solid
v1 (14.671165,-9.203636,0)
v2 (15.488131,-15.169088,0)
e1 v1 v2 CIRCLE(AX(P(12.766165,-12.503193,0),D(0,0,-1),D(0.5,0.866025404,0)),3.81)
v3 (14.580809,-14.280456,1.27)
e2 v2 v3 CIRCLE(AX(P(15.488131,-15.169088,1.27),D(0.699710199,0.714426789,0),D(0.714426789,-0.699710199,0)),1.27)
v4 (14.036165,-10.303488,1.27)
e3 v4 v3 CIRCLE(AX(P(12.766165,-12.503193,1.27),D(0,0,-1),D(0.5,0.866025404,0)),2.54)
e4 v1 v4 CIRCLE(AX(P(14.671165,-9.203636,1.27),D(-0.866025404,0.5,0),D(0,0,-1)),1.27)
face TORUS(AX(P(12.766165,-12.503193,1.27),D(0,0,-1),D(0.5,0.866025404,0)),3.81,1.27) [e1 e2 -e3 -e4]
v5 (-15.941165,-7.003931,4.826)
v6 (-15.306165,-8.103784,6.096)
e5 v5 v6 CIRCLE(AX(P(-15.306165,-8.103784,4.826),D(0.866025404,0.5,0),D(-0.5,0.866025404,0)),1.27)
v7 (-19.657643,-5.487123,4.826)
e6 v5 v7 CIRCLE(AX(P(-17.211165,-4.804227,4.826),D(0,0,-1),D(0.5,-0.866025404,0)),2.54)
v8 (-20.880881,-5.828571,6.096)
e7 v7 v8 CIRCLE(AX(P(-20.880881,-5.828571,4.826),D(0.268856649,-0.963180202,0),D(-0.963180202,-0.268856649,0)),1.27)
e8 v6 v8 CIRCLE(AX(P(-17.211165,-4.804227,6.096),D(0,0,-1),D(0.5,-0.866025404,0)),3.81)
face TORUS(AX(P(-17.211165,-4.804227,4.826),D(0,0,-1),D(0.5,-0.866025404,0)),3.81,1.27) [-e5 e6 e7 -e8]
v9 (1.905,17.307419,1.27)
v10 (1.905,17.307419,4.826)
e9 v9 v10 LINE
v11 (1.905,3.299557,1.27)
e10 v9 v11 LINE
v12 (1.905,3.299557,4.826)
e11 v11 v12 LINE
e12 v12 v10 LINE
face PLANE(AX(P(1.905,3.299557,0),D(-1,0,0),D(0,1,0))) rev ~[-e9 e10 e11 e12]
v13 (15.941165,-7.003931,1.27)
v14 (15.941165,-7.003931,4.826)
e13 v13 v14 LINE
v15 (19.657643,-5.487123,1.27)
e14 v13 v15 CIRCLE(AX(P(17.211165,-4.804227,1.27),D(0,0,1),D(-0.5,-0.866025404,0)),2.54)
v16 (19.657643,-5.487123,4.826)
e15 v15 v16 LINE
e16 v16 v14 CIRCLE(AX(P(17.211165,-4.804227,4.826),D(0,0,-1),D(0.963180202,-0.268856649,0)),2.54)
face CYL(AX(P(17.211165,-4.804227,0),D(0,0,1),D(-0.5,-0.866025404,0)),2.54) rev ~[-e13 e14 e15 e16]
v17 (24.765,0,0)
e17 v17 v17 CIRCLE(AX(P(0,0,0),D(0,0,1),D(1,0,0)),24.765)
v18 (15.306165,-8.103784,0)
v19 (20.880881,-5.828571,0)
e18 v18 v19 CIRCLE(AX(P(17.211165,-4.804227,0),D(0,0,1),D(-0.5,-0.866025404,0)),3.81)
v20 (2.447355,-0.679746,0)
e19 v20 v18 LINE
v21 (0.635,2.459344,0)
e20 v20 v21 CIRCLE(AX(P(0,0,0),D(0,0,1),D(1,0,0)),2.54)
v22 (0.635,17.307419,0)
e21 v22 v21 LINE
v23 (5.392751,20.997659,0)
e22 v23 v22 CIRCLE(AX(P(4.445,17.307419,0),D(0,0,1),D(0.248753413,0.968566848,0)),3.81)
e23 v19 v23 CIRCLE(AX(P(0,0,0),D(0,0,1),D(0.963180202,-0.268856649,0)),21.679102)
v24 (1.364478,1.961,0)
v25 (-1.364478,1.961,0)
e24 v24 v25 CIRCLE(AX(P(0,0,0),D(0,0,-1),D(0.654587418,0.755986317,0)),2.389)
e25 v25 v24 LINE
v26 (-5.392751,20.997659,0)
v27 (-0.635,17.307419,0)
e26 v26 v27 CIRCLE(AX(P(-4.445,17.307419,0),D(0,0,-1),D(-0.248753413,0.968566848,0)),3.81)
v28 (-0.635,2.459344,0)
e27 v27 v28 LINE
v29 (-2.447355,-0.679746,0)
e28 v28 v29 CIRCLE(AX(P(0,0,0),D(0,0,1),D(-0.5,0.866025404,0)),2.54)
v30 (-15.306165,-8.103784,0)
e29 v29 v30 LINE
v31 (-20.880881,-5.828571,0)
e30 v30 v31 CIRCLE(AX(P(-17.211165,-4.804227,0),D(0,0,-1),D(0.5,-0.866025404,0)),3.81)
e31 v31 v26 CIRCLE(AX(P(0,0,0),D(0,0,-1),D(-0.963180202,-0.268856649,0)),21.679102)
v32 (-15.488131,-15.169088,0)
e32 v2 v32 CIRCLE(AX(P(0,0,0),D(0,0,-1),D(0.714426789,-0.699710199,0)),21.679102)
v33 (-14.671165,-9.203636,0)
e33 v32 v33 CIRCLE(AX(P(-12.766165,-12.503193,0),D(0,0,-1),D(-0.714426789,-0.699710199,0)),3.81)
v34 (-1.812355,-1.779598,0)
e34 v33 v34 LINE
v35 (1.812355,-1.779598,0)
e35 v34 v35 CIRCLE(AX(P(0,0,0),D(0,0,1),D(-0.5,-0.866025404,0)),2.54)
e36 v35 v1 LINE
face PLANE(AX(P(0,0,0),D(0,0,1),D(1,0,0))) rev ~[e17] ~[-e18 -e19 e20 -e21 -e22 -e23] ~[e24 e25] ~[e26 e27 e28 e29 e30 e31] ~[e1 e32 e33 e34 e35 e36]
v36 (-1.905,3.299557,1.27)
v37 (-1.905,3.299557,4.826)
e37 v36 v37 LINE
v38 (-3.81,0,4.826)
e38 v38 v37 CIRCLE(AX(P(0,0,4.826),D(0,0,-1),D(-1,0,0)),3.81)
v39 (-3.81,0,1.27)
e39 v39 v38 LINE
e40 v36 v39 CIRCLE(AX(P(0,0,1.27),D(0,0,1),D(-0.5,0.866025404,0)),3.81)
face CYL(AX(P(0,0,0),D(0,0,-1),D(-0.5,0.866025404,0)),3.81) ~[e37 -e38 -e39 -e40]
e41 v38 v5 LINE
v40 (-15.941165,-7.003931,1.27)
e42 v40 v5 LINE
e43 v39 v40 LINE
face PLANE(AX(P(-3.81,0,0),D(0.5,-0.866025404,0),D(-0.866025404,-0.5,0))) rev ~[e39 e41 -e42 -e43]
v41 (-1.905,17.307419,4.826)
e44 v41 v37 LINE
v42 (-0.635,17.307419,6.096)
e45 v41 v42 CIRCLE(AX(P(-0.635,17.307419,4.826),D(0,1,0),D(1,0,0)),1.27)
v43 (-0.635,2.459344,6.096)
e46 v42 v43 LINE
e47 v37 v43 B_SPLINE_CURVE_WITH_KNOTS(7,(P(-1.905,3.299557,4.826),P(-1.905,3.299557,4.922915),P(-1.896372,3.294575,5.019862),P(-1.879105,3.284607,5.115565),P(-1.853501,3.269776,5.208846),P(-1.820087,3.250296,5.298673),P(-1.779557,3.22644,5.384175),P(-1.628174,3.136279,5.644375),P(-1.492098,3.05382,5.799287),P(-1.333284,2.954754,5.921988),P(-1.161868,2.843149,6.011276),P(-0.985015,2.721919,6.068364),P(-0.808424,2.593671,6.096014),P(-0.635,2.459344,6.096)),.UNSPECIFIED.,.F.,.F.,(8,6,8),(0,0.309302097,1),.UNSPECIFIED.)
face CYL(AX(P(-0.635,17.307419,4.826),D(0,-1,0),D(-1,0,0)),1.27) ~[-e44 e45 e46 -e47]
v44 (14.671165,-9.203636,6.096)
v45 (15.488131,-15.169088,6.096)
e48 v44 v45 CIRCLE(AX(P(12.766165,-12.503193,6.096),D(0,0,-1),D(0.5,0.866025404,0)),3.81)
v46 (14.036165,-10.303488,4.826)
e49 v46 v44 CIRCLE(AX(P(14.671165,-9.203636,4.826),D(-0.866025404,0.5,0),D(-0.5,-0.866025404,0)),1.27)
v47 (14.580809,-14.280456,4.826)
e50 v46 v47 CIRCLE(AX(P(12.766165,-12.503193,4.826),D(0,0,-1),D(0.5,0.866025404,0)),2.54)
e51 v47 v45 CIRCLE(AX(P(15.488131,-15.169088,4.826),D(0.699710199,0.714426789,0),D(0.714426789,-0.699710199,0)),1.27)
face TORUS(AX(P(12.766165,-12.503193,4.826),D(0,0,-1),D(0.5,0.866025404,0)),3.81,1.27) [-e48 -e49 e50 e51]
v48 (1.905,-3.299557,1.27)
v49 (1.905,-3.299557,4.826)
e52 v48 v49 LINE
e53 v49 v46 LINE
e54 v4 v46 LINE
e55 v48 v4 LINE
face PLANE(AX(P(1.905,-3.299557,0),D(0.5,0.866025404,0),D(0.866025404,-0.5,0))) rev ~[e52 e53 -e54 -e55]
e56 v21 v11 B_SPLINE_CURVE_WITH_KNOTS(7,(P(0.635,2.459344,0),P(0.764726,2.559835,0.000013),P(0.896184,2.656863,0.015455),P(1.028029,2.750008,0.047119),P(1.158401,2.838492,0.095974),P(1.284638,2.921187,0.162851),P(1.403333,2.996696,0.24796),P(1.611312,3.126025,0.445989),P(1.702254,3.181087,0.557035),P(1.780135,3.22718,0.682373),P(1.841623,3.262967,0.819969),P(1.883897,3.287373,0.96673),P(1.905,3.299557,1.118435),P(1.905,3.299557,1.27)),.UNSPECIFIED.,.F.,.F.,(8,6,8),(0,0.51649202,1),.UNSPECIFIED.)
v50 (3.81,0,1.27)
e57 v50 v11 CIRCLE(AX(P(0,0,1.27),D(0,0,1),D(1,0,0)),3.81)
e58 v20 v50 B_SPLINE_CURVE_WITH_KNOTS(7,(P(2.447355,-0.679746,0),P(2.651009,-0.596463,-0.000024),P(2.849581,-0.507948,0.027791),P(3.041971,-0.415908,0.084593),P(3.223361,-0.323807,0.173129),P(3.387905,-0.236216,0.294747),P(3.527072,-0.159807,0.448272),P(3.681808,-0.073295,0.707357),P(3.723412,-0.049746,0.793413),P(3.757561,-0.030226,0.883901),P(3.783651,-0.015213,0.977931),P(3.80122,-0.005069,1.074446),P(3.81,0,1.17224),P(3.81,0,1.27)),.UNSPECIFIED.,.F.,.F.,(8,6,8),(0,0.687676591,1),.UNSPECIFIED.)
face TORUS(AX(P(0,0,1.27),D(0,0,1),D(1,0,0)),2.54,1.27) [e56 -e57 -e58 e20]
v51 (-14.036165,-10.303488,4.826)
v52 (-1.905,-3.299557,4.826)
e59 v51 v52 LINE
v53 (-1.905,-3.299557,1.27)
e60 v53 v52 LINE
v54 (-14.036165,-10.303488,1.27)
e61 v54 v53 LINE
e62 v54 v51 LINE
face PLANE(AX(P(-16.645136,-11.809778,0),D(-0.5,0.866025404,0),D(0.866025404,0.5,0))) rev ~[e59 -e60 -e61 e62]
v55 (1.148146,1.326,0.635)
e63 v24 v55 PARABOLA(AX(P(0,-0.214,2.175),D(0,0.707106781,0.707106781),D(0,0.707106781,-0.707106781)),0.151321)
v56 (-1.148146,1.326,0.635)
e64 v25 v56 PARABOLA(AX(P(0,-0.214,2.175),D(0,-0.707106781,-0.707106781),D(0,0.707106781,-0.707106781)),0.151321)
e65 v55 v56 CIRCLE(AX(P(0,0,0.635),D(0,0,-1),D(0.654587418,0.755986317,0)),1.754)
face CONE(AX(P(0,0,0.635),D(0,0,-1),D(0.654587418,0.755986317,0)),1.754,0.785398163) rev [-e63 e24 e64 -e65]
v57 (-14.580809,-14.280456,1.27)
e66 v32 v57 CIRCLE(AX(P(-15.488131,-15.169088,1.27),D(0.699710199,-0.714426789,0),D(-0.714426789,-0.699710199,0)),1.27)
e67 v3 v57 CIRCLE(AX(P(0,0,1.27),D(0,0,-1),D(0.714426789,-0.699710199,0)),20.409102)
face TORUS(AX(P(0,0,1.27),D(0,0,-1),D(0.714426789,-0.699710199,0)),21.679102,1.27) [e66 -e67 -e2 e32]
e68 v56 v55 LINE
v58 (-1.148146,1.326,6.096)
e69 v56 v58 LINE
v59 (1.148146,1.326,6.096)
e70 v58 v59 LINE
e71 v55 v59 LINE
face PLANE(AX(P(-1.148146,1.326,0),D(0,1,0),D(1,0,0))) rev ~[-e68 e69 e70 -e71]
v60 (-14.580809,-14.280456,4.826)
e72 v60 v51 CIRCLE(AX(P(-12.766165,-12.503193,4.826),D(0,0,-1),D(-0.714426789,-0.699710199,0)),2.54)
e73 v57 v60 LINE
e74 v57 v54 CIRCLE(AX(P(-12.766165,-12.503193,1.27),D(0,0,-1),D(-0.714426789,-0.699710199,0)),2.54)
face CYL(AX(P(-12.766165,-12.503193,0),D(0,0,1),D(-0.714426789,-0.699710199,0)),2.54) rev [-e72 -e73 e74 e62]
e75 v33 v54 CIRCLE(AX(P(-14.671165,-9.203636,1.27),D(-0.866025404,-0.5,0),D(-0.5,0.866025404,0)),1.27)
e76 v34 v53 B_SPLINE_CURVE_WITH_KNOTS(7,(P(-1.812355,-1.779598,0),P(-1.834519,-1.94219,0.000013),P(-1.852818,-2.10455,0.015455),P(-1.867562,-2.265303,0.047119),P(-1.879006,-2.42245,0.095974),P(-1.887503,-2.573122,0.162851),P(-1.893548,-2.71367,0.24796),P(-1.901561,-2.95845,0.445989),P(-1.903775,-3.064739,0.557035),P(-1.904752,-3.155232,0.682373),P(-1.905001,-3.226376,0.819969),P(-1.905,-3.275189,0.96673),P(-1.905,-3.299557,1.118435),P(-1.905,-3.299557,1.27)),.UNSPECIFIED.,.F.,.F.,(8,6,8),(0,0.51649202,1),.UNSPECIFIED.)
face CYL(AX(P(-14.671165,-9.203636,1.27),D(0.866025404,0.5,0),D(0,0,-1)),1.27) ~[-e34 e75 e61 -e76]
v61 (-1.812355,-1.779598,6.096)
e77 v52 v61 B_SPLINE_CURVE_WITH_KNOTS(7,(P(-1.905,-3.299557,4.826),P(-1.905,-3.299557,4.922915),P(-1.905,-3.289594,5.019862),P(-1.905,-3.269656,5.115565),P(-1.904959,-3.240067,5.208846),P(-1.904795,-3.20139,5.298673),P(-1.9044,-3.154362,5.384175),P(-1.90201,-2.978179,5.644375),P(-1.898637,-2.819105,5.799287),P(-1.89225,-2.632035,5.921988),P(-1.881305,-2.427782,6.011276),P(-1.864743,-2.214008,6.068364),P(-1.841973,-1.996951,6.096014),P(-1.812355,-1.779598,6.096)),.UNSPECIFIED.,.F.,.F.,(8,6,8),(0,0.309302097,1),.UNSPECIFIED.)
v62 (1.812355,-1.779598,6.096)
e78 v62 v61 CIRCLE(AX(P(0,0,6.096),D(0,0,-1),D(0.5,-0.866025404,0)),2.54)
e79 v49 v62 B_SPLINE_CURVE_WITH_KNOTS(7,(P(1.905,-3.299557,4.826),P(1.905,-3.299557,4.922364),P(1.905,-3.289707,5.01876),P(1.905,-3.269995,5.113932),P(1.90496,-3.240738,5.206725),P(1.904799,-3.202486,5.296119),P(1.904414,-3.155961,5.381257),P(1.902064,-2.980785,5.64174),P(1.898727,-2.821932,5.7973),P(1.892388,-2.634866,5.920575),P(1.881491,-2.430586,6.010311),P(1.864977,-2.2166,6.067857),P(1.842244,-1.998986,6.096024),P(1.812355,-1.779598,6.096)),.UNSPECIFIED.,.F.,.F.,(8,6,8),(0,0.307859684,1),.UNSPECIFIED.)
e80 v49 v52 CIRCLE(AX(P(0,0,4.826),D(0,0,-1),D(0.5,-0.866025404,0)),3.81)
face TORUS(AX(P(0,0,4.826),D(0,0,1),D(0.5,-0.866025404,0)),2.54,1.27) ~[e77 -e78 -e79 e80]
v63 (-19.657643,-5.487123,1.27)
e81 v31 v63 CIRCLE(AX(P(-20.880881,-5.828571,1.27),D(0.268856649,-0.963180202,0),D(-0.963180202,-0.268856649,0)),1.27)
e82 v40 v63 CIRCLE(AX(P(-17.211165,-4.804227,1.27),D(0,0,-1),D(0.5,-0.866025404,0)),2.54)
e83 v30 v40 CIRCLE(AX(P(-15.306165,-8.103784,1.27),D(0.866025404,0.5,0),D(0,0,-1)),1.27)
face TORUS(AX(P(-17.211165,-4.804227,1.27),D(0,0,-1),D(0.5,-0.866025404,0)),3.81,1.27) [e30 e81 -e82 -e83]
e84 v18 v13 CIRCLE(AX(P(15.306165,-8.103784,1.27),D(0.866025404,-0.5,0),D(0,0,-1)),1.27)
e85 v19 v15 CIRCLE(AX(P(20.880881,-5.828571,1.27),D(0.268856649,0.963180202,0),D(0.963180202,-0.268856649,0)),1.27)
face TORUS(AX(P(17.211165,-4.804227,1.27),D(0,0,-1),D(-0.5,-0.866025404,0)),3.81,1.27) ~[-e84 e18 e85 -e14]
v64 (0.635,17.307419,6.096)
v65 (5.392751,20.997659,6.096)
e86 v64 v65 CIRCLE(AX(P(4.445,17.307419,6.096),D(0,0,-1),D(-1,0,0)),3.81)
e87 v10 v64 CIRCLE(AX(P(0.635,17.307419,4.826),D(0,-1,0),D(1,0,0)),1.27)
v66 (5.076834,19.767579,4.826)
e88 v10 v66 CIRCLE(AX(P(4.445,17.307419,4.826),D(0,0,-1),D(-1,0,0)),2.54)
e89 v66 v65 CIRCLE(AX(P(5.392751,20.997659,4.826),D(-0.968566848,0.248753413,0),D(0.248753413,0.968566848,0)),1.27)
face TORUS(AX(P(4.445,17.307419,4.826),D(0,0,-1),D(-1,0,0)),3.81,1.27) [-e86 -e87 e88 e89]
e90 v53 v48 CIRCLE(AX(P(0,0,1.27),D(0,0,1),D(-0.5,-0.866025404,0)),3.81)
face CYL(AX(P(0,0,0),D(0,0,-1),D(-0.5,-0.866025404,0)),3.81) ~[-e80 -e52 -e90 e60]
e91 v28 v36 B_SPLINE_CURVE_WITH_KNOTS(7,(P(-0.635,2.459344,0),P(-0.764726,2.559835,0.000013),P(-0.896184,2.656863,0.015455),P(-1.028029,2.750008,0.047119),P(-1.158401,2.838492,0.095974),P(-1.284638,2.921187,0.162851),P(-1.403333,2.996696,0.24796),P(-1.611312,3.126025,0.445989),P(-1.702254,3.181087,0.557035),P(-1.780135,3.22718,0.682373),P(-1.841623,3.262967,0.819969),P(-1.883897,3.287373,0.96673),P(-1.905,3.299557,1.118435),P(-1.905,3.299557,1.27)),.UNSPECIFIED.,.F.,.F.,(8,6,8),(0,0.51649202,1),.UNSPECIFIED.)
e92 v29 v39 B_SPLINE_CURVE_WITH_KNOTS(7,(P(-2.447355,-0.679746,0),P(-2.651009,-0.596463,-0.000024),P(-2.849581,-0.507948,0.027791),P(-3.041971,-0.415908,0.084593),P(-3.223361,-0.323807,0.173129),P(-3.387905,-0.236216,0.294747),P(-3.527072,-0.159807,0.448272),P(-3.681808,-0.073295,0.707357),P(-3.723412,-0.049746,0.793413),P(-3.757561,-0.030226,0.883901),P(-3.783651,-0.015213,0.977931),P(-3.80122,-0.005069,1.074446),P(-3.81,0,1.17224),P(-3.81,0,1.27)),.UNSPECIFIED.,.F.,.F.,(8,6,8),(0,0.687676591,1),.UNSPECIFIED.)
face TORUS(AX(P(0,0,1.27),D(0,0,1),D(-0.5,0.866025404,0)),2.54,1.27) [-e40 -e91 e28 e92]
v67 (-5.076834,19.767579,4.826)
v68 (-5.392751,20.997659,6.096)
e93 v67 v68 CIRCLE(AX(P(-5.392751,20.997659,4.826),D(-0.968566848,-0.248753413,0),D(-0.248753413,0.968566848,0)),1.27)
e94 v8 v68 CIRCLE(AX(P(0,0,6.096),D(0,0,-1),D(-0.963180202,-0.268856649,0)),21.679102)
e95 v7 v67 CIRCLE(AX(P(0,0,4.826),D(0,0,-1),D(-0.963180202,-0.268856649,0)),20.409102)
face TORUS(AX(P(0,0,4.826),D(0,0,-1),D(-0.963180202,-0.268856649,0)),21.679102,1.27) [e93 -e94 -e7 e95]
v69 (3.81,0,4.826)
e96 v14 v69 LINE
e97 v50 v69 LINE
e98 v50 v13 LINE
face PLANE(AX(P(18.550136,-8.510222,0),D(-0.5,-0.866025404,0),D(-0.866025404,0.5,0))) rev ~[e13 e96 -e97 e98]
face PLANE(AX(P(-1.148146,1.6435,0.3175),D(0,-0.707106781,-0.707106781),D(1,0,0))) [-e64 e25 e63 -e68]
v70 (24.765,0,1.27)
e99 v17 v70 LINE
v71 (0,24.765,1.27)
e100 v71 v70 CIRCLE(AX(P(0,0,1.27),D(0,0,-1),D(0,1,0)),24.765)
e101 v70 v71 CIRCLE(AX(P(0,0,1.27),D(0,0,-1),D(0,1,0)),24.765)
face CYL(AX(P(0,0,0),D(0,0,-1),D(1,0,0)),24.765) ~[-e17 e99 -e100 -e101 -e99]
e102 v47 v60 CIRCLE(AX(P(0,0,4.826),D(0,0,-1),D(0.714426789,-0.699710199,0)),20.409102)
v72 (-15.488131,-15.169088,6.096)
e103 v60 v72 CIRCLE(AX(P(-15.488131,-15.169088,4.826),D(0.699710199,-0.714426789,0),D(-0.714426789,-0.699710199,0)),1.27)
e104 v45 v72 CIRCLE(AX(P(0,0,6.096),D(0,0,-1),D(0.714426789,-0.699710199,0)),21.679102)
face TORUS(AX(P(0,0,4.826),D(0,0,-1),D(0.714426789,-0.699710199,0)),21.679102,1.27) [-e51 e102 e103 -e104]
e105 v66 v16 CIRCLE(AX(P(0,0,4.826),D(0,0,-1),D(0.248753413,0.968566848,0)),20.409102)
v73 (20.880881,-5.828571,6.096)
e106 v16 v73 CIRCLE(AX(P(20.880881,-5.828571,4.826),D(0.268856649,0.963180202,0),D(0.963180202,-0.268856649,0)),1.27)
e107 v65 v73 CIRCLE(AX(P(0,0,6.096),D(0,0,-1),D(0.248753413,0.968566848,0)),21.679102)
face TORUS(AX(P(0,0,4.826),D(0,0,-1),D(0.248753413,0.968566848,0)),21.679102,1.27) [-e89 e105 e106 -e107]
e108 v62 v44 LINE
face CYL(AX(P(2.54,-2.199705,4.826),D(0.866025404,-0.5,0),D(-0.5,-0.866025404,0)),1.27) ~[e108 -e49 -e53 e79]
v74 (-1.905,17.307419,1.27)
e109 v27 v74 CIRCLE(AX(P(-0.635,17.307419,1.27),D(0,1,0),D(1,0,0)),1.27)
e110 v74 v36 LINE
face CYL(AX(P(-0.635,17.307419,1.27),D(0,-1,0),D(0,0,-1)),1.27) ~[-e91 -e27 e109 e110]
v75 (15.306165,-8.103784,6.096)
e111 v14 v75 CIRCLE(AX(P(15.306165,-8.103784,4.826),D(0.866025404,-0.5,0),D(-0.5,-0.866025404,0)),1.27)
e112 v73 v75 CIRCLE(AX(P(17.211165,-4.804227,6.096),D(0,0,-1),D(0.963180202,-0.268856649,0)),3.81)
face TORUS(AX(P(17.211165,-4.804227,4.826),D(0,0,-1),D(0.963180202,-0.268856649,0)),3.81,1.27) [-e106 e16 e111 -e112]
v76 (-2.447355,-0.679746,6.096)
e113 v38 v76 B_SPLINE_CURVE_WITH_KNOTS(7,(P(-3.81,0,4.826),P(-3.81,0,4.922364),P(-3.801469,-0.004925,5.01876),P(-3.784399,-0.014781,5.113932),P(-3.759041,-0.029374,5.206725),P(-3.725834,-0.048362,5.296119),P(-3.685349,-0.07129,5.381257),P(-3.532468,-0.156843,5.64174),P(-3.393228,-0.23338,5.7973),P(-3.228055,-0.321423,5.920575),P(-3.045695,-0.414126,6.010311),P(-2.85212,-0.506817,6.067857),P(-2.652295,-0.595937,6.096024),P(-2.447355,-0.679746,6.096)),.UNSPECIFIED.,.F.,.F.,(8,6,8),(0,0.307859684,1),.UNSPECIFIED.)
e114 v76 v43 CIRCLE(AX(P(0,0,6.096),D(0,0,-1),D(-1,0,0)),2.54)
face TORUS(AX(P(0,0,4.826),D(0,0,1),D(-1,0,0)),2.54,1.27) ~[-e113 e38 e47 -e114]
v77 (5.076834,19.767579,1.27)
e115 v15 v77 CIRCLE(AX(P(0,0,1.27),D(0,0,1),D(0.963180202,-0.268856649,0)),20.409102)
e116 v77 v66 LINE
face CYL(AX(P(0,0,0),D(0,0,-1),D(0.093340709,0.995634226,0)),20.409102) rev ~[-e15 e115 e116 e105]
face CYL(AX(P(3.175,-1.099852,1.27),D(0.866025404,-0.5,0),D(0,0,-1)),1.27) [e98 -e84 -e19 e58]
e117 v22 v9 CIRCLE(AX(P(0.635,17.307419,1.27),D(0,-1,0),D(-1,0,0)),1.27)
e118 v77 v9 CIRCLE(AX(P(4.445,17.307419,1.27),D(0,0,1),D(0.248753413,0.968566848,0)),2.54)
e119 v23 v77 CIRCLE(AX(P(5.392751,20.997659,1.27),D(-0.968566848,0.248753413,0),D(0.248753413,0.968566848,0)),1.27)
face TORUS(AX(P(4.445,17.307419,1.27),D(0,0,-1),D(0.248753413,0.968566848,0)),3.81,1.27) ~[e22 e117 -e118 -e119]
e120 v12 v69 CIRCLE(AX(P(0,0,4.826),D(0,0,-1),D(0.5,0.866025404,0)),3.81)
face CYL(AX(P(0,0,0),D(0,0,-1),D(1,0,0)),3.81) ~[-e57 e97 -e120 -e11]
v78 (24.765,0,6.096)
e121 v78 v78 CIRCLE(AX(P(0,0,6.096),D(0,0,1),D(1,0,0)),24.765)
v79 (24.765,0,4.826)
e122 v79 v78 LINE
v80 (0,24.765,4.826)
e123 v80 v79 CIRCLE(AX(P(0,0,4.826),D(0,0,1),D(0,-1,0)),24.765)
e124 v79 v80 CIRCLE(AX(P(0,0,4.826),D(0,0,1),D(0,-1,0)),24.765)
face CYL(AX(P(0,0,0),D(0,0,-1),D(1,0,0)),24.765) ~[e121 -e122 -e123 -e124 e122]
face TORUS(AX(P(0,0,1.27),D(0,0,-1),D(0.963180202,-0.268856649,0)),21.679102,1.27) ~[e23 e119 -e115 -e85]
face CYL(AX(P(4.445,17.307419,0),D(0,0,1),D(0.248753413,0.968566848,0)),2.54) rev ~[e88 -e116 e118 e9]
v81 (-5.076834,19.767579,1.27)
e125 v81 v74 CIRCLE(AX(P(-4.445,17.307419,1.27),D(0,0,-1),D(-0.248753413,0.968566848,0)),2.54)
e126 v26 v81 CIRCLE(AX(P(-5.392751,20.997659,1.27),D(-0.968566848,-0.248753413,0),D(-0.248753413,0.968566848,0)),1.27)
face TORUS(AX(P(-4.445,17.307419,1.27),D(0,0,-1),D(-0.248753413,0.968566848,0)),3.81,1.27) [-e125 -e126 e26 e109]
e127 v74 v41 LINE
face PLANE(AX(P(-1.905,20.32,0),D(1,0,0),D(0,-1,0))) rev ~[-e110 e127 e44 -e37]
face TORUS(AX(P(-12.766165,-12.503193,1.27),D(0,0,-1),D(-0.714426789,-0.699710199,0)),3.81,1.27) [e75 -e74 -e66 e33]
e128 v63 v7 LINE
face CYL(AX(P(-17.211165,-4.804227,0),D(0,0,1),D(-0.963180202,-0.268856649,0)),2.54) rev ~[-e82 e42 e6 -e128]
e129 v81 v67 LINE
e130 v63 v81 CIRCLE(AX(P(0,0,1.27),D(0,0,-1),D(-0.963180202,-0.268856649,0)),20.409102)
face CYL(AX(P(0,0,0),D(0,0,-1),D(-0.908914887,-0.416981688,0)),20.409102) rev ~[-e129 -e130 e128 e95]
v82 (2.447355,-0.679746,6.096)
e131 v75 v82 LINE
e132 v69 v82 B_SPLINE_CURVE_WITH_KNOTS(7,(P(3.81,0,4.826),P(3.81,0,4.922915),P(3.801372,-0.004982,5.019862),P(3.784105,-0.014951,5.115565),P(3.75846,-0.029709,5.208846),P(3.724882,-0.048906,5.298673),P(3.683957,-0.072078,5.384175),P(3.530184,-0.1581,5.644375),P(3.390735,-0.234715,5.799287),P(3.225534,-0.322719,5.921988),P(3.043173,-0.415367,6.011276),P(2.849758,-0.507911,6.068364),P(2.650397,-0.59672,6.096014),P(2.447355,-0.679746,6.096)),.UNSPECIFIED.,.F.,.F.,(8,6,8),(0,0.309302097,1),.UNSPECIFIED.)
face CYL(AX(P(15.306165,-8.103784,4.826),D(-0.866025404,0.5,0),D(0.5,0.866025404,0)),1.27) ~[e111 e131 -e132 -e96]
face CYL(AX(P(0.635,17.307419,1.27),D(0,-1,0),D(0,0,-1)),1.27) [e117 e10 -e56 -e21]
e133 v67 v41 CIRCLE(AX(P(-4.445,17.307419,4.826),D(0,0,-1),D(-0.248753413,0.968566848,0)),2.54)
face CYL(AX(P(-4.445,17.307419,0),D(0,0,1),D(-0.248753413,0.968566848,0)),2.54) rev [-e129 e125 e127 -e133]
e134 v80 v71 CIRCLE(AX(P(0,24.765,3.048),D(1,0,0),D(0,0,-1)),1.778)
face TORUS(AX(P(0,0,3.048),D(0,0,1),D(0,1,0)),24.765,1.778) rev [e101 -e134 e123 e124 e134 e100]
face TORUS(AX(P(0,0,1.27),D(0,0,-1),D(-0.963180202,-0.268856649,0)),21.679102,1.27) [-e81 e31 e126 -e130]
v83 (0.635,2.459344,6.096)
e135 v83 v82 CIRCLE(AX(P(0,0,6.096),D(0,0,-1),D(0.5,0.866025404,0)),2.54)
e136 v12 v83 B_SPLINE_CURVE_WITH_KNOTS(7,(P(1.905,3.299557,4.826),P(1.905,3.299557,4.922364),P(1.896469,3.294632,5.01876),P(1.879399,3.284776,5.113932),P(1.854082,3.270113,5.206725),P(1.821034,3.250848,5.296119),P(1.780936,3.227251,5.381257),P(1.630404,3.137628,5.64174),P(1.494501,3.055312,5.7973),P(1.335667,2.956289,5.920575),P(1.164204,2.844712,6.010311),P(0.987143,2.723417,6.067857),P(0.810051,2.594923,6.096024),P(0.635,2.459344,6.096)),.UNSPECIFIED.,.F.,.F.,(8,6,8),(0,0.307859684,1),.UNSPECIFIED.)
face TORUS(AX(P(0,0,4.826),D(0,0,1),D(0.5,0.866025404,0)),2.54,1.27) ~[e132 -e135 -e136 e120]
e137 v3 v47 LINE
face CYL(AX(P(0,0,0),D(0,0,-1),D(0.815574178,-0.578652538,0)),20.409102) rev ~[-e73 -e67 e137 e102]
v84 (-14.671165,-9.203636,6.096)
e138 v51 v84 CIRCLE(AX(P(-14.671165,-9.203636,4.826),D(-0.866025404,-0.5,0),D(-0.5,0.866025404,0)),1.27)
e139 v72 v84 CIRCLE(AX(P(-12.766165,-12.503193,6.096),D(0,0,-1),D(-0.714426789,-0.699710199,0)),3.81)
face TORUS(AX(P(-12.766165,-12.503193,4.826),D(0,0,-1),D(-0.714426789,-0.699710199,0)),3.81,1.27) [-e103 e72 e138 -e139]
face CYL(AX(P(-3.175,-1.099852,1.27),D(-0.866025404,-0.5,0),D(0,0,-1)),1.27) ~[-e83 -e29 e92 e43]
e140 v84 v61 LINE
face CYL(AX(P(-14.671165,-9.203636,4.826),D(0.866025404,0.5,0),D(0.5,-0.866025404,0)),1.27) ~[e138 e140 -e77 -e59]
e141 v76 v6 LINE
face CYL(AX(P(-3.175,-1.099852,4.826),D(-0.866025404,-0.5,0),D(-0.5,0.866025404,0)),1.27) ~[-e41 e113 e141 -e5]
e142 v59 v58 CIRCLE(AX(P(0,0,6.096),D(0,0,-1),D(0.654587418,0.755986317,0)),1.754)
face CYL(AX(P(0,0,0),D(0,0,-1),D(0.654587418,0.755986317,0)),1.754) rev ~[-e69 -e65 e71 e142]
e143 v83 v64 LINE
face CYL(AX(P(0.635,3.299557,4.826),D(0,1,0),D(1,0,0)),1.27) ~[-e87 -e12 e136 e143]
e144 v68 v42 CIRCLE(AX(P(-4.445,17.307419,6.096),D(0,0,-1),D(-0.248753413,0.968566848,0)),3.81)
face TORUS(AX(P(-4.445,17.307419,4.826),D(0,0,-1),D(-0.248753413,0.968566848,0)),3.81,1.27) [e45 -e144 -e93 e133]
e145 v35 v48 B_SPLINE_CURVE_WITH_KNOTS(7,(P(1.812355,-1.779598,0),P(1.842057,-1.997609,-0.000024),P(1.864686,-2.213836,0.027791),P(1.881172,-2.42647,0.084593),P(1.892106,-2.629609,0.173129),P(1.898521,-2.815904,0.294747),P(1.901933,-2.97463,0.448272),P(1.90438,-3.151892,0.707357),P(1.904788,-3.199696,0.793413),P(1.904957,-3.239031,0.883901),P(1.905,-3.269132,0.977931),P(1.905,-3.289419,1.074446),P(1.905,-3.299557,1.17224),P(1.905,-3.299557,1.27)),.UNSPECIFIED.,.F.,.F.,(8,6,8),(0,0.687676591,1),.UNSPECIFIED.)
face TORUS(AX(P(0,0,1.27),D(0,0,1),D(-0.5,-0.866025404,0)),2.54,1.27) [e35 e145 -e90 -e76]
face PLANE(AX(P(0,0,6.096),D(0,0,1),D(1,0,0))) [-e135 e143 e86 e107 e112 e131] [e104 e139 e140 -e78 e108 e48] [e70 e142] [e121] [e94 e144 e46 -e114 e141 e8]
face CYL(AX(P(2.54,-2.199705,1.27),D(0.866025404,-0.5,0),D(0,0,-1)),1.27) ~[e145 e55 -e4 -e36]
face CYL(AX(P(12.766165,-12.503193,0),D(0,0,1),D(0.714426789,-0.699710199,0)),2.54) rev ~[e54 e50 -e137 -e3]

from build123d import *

# Parameters (mm, degrees)
SKETCH1_R           = 24.765
BOSS_EXTRUDE1_DEPTH = 6.096
SKETCH3_R           = 1.778
CUT_EXTRUDE1_REACH  = 37.55
FILLET1_R           = 2.54
CUT_EXTRUDE2_REACH  = 37.55
FILLET2_R           = 1.27
CHAMFER1_SIZE       = 0.635


with BuildPart() as part:
    # Sketch1 → Boss-Extrude1 (new body)
    with BuildSketch(Plane.XY):
        Circle(SKETCH1_R)
    extrude(amount=BOSS_EXTRUDE1_DEPTH)

    # Sketch3 → Cut-Revolve1 (revolve, cut)
    with BuildSketch(Plane(origin=(0, 0, 0), x_dir=(0, 0, -1), z_dir=(1, 0, 0))):
        with Locations((-3.048, 24.765)):
            Circle(SKETCH3_R)
    revolve(axis=Axis((0, 0, 6.096), (0, 0, -1)), mode=Mode.SUBTRACT)

    # Sketch6 → Cut-Extrude1 (cut, up to next)
    with BuildSketch(Plane(origin=(0, 0, 0), x_dir=(-1, 0, 0), z_dir=(0, 0, -1)), mode=Mode.PRIVATE) as cut_extrude1_sk1:
        with BuildLine():
            Line((1.905, 20.32), (1.905, 3.299556788))
            ThreePointArc((1.905, 3.299556788), (3.299556788, 1.905), (3.81, 0))
            Line((3.81, 0), (18.550136205, -8.510221606))
            ThreePointArc((18.550136205, -8.510221606), (17.674800388, 10.204550762), (1.905, 20.32))
        make_face()
    cut_extrude1_tool1 = extrude(cut_extrude1_sk1.sketch, amount=-CUT_EXTRUDE1_REACH, mode=Mode.PRIVATE) & part.part
    # Sketch6 → Cut-Extrude1 (cut, up to next)
    with BuildSketch(Plane(origin=(0, 0, 0), x_dir=(-1, 0, 0), z_dir=(0, 0, -1)), mode=Mode.PRIVATE) as cut_extrude1_sk2:
        with BuildLine():
            ThreePointArc((-3.81, 0), (-3.299556788, 1.905), (-1.905, 3.299556788))
            Line((-1.905, 3.299556788), (-1.905, 20.32))
            ThreePointArc((-1.905, 20.32), (-17.674800388, 10.204550762), (-18.550136205, -8.510221606))
            Line((-18.550136205, -8.510221606), (-3.81, 0))
        make_face()
    cut_extrude1_tool2 = extrude(cut_extrude1_sk2.sketch, amount=-CUT_EXTRUDE1_REACH, mode=Mode.PRIVATE) & part.part
    # Sketch6 → Cut-Extrude1 (cut, up to next)
    with BuildSketch(Plane(origin=(0, 0, 0), x_dir=(-1, 0, 0), z_dir=(0, 0, -1)), mode=Mode.PRIVATE) as cut_extrude1_sk3:
        with BuildLine():
            Line((16.645136205, -11.809778394), (1.905, -3.299556788))
            ThreePointArc((1.905, -3.299556788), (0, -3.81), (-1.905, -3.299556788))
            Line((-1.905, -3.299556788), (-16.645136205, -11.809778394))
            ThreePointArc((-16.645136205, -11.809778394), (0, -20.409101524), (16.645136205, -11.809778394))
        make_face()
    cut_extrude1_tool3 = extrude(cut_extrude1_sk3.sketch, amount=-CUT_EXTRUDE1_REACH, mode=Mode.PRIVATE) & part.part
    add(cut_extrude1_tool1.solids().sort_by_distance((-10.764795, 6.215057, 0))[0], mode=Mode.SUBTRACT)
    add(cut_extrude1_tool2.solids().sort_by_distance((10.764795, 6.215057, 0))[0], mode=Mode.SUBTRACT)
    add(cut_extrude1_tool3.solids().sort_by_distance((0, -12.430115, 0))[0], mode=Mode.SUBTRACT)

    # Fillet1
    fillet1_edges = [part.edges().sort_by_distance(p)[0] for p in [
        (-18.550136205, -8.510221606, 3.048),
        (-16.645136205, -11.809778394, 3.048),
        (16.645136205, -11.809778394, 3.048),
        (18.550136205, -8.510221606, 3.048),
        (-1.905, 20.32, 3.048),
        (1.905, 20.32, 3.048),
    ]]
    fillet(fillet1_edges, radius=FILLET1_R)

    # Sketch6<4> → Cut-Extrude2 (cut, up to next)
    with BuildSketch(Plane(origin=(0, 0, 0), x_dir=(-1, 0, 0), z_dir=(0, 0, -1)), mode=Mode.PRIVATE) as cut_extrude2_sk1:
        with BuildLine():
            Line((1.148146332, 1.326), (-1.148146332, 1.326))
            ThreePointArc((-1.148146332, 1.326), (0, -1.754), (1.148146332, 1.326))
        make_face()
    cut_extrude2_tool1 = extrude(cut_extrude2_sk1.sketch, amount=-CUT_EXTRUDE2_REACH, mode=Mode.PRIVATE) & part.part
    add(cut_extrude2_tool1.solids().sort_by_distance((0, -0.112212, 0))[0], mode=Mode.SUBTRACT)

    # Fillet2
    fillet2_edges = [part.edges().sort_by_distance(p)[0] for p in [
        (-15.282675642, -12.158557562, 0),
        (-7.970582412, -6.801522427, 0),
        (0, -3.81, 0),
        (7.970582412, -6.801522427, 0),
        (15.282675642, -12.158557562, 0),
        (0, -20.409101524, 0),
        (-2.888281901, 19.314464124, 0),
        (-1.905, 10.303488065, 0),
        (-3.299556788, 1.905, 0),
        (-9.875582412, -3.501965638, 0),
        (-18.170957543, -7.155906562, 0),
        (-17.674800388, 10.204550762, 0),
        (18.170957543, -7.155906562, 0),
        (9.875582412, -3.501965638, 0),
        (3.299556788, 1.905, 0),
        (1.905, 10.303488065, 0),
        (2.888281901, 19.314464124, 0),
        (17.674800388, 10.204550762, 0),
        (0, -3.81, 6.096),
        (-7.970582412, -6.801522427, 6.096),
        (-15.282675642, -12.158557562, 6.096),
        (0, -20.409101524, 6.096),
        (15.282675642, -12.158557562, 6.096),
        (7.970582412, -6.801522427, 6.096),
        (-3.299556788, 1.905, 6.096),
        (-1.905, 10.303488065, 6.096),
        (-2.888281901, 19.314464124, 6.096),
        (-17.674800388, 10.204550762, 6.096),
        (-18.170957543, -7.155906562, 6.096),
        (-9.875582412, -3.501965638, 6.096),
        (3.299556788, 1.905, 6.096),
        (9.875582412, -3.501965638, 6.096),
        (18.170957543, -7.155906562, 6.096),
        (17.674800388, 10.204550762, 6.096),
        (2.888281901, 19.314464124, 6.096),
        (1.905, 10.303488065, 6.096),
    ]]
    fillet(fillet2_edges, radius=FILLET2_R)

    # Chamfer1
    chamfer1_edges = [part.edges().sort_by_distance(p)[0] for p in [
        (0, 1.326, 0),
        (0, -1.754, 0),
    ]]
    chamfer(chamfer1_edges, length=CHAMFER1_SIZE)


solid = part.part
